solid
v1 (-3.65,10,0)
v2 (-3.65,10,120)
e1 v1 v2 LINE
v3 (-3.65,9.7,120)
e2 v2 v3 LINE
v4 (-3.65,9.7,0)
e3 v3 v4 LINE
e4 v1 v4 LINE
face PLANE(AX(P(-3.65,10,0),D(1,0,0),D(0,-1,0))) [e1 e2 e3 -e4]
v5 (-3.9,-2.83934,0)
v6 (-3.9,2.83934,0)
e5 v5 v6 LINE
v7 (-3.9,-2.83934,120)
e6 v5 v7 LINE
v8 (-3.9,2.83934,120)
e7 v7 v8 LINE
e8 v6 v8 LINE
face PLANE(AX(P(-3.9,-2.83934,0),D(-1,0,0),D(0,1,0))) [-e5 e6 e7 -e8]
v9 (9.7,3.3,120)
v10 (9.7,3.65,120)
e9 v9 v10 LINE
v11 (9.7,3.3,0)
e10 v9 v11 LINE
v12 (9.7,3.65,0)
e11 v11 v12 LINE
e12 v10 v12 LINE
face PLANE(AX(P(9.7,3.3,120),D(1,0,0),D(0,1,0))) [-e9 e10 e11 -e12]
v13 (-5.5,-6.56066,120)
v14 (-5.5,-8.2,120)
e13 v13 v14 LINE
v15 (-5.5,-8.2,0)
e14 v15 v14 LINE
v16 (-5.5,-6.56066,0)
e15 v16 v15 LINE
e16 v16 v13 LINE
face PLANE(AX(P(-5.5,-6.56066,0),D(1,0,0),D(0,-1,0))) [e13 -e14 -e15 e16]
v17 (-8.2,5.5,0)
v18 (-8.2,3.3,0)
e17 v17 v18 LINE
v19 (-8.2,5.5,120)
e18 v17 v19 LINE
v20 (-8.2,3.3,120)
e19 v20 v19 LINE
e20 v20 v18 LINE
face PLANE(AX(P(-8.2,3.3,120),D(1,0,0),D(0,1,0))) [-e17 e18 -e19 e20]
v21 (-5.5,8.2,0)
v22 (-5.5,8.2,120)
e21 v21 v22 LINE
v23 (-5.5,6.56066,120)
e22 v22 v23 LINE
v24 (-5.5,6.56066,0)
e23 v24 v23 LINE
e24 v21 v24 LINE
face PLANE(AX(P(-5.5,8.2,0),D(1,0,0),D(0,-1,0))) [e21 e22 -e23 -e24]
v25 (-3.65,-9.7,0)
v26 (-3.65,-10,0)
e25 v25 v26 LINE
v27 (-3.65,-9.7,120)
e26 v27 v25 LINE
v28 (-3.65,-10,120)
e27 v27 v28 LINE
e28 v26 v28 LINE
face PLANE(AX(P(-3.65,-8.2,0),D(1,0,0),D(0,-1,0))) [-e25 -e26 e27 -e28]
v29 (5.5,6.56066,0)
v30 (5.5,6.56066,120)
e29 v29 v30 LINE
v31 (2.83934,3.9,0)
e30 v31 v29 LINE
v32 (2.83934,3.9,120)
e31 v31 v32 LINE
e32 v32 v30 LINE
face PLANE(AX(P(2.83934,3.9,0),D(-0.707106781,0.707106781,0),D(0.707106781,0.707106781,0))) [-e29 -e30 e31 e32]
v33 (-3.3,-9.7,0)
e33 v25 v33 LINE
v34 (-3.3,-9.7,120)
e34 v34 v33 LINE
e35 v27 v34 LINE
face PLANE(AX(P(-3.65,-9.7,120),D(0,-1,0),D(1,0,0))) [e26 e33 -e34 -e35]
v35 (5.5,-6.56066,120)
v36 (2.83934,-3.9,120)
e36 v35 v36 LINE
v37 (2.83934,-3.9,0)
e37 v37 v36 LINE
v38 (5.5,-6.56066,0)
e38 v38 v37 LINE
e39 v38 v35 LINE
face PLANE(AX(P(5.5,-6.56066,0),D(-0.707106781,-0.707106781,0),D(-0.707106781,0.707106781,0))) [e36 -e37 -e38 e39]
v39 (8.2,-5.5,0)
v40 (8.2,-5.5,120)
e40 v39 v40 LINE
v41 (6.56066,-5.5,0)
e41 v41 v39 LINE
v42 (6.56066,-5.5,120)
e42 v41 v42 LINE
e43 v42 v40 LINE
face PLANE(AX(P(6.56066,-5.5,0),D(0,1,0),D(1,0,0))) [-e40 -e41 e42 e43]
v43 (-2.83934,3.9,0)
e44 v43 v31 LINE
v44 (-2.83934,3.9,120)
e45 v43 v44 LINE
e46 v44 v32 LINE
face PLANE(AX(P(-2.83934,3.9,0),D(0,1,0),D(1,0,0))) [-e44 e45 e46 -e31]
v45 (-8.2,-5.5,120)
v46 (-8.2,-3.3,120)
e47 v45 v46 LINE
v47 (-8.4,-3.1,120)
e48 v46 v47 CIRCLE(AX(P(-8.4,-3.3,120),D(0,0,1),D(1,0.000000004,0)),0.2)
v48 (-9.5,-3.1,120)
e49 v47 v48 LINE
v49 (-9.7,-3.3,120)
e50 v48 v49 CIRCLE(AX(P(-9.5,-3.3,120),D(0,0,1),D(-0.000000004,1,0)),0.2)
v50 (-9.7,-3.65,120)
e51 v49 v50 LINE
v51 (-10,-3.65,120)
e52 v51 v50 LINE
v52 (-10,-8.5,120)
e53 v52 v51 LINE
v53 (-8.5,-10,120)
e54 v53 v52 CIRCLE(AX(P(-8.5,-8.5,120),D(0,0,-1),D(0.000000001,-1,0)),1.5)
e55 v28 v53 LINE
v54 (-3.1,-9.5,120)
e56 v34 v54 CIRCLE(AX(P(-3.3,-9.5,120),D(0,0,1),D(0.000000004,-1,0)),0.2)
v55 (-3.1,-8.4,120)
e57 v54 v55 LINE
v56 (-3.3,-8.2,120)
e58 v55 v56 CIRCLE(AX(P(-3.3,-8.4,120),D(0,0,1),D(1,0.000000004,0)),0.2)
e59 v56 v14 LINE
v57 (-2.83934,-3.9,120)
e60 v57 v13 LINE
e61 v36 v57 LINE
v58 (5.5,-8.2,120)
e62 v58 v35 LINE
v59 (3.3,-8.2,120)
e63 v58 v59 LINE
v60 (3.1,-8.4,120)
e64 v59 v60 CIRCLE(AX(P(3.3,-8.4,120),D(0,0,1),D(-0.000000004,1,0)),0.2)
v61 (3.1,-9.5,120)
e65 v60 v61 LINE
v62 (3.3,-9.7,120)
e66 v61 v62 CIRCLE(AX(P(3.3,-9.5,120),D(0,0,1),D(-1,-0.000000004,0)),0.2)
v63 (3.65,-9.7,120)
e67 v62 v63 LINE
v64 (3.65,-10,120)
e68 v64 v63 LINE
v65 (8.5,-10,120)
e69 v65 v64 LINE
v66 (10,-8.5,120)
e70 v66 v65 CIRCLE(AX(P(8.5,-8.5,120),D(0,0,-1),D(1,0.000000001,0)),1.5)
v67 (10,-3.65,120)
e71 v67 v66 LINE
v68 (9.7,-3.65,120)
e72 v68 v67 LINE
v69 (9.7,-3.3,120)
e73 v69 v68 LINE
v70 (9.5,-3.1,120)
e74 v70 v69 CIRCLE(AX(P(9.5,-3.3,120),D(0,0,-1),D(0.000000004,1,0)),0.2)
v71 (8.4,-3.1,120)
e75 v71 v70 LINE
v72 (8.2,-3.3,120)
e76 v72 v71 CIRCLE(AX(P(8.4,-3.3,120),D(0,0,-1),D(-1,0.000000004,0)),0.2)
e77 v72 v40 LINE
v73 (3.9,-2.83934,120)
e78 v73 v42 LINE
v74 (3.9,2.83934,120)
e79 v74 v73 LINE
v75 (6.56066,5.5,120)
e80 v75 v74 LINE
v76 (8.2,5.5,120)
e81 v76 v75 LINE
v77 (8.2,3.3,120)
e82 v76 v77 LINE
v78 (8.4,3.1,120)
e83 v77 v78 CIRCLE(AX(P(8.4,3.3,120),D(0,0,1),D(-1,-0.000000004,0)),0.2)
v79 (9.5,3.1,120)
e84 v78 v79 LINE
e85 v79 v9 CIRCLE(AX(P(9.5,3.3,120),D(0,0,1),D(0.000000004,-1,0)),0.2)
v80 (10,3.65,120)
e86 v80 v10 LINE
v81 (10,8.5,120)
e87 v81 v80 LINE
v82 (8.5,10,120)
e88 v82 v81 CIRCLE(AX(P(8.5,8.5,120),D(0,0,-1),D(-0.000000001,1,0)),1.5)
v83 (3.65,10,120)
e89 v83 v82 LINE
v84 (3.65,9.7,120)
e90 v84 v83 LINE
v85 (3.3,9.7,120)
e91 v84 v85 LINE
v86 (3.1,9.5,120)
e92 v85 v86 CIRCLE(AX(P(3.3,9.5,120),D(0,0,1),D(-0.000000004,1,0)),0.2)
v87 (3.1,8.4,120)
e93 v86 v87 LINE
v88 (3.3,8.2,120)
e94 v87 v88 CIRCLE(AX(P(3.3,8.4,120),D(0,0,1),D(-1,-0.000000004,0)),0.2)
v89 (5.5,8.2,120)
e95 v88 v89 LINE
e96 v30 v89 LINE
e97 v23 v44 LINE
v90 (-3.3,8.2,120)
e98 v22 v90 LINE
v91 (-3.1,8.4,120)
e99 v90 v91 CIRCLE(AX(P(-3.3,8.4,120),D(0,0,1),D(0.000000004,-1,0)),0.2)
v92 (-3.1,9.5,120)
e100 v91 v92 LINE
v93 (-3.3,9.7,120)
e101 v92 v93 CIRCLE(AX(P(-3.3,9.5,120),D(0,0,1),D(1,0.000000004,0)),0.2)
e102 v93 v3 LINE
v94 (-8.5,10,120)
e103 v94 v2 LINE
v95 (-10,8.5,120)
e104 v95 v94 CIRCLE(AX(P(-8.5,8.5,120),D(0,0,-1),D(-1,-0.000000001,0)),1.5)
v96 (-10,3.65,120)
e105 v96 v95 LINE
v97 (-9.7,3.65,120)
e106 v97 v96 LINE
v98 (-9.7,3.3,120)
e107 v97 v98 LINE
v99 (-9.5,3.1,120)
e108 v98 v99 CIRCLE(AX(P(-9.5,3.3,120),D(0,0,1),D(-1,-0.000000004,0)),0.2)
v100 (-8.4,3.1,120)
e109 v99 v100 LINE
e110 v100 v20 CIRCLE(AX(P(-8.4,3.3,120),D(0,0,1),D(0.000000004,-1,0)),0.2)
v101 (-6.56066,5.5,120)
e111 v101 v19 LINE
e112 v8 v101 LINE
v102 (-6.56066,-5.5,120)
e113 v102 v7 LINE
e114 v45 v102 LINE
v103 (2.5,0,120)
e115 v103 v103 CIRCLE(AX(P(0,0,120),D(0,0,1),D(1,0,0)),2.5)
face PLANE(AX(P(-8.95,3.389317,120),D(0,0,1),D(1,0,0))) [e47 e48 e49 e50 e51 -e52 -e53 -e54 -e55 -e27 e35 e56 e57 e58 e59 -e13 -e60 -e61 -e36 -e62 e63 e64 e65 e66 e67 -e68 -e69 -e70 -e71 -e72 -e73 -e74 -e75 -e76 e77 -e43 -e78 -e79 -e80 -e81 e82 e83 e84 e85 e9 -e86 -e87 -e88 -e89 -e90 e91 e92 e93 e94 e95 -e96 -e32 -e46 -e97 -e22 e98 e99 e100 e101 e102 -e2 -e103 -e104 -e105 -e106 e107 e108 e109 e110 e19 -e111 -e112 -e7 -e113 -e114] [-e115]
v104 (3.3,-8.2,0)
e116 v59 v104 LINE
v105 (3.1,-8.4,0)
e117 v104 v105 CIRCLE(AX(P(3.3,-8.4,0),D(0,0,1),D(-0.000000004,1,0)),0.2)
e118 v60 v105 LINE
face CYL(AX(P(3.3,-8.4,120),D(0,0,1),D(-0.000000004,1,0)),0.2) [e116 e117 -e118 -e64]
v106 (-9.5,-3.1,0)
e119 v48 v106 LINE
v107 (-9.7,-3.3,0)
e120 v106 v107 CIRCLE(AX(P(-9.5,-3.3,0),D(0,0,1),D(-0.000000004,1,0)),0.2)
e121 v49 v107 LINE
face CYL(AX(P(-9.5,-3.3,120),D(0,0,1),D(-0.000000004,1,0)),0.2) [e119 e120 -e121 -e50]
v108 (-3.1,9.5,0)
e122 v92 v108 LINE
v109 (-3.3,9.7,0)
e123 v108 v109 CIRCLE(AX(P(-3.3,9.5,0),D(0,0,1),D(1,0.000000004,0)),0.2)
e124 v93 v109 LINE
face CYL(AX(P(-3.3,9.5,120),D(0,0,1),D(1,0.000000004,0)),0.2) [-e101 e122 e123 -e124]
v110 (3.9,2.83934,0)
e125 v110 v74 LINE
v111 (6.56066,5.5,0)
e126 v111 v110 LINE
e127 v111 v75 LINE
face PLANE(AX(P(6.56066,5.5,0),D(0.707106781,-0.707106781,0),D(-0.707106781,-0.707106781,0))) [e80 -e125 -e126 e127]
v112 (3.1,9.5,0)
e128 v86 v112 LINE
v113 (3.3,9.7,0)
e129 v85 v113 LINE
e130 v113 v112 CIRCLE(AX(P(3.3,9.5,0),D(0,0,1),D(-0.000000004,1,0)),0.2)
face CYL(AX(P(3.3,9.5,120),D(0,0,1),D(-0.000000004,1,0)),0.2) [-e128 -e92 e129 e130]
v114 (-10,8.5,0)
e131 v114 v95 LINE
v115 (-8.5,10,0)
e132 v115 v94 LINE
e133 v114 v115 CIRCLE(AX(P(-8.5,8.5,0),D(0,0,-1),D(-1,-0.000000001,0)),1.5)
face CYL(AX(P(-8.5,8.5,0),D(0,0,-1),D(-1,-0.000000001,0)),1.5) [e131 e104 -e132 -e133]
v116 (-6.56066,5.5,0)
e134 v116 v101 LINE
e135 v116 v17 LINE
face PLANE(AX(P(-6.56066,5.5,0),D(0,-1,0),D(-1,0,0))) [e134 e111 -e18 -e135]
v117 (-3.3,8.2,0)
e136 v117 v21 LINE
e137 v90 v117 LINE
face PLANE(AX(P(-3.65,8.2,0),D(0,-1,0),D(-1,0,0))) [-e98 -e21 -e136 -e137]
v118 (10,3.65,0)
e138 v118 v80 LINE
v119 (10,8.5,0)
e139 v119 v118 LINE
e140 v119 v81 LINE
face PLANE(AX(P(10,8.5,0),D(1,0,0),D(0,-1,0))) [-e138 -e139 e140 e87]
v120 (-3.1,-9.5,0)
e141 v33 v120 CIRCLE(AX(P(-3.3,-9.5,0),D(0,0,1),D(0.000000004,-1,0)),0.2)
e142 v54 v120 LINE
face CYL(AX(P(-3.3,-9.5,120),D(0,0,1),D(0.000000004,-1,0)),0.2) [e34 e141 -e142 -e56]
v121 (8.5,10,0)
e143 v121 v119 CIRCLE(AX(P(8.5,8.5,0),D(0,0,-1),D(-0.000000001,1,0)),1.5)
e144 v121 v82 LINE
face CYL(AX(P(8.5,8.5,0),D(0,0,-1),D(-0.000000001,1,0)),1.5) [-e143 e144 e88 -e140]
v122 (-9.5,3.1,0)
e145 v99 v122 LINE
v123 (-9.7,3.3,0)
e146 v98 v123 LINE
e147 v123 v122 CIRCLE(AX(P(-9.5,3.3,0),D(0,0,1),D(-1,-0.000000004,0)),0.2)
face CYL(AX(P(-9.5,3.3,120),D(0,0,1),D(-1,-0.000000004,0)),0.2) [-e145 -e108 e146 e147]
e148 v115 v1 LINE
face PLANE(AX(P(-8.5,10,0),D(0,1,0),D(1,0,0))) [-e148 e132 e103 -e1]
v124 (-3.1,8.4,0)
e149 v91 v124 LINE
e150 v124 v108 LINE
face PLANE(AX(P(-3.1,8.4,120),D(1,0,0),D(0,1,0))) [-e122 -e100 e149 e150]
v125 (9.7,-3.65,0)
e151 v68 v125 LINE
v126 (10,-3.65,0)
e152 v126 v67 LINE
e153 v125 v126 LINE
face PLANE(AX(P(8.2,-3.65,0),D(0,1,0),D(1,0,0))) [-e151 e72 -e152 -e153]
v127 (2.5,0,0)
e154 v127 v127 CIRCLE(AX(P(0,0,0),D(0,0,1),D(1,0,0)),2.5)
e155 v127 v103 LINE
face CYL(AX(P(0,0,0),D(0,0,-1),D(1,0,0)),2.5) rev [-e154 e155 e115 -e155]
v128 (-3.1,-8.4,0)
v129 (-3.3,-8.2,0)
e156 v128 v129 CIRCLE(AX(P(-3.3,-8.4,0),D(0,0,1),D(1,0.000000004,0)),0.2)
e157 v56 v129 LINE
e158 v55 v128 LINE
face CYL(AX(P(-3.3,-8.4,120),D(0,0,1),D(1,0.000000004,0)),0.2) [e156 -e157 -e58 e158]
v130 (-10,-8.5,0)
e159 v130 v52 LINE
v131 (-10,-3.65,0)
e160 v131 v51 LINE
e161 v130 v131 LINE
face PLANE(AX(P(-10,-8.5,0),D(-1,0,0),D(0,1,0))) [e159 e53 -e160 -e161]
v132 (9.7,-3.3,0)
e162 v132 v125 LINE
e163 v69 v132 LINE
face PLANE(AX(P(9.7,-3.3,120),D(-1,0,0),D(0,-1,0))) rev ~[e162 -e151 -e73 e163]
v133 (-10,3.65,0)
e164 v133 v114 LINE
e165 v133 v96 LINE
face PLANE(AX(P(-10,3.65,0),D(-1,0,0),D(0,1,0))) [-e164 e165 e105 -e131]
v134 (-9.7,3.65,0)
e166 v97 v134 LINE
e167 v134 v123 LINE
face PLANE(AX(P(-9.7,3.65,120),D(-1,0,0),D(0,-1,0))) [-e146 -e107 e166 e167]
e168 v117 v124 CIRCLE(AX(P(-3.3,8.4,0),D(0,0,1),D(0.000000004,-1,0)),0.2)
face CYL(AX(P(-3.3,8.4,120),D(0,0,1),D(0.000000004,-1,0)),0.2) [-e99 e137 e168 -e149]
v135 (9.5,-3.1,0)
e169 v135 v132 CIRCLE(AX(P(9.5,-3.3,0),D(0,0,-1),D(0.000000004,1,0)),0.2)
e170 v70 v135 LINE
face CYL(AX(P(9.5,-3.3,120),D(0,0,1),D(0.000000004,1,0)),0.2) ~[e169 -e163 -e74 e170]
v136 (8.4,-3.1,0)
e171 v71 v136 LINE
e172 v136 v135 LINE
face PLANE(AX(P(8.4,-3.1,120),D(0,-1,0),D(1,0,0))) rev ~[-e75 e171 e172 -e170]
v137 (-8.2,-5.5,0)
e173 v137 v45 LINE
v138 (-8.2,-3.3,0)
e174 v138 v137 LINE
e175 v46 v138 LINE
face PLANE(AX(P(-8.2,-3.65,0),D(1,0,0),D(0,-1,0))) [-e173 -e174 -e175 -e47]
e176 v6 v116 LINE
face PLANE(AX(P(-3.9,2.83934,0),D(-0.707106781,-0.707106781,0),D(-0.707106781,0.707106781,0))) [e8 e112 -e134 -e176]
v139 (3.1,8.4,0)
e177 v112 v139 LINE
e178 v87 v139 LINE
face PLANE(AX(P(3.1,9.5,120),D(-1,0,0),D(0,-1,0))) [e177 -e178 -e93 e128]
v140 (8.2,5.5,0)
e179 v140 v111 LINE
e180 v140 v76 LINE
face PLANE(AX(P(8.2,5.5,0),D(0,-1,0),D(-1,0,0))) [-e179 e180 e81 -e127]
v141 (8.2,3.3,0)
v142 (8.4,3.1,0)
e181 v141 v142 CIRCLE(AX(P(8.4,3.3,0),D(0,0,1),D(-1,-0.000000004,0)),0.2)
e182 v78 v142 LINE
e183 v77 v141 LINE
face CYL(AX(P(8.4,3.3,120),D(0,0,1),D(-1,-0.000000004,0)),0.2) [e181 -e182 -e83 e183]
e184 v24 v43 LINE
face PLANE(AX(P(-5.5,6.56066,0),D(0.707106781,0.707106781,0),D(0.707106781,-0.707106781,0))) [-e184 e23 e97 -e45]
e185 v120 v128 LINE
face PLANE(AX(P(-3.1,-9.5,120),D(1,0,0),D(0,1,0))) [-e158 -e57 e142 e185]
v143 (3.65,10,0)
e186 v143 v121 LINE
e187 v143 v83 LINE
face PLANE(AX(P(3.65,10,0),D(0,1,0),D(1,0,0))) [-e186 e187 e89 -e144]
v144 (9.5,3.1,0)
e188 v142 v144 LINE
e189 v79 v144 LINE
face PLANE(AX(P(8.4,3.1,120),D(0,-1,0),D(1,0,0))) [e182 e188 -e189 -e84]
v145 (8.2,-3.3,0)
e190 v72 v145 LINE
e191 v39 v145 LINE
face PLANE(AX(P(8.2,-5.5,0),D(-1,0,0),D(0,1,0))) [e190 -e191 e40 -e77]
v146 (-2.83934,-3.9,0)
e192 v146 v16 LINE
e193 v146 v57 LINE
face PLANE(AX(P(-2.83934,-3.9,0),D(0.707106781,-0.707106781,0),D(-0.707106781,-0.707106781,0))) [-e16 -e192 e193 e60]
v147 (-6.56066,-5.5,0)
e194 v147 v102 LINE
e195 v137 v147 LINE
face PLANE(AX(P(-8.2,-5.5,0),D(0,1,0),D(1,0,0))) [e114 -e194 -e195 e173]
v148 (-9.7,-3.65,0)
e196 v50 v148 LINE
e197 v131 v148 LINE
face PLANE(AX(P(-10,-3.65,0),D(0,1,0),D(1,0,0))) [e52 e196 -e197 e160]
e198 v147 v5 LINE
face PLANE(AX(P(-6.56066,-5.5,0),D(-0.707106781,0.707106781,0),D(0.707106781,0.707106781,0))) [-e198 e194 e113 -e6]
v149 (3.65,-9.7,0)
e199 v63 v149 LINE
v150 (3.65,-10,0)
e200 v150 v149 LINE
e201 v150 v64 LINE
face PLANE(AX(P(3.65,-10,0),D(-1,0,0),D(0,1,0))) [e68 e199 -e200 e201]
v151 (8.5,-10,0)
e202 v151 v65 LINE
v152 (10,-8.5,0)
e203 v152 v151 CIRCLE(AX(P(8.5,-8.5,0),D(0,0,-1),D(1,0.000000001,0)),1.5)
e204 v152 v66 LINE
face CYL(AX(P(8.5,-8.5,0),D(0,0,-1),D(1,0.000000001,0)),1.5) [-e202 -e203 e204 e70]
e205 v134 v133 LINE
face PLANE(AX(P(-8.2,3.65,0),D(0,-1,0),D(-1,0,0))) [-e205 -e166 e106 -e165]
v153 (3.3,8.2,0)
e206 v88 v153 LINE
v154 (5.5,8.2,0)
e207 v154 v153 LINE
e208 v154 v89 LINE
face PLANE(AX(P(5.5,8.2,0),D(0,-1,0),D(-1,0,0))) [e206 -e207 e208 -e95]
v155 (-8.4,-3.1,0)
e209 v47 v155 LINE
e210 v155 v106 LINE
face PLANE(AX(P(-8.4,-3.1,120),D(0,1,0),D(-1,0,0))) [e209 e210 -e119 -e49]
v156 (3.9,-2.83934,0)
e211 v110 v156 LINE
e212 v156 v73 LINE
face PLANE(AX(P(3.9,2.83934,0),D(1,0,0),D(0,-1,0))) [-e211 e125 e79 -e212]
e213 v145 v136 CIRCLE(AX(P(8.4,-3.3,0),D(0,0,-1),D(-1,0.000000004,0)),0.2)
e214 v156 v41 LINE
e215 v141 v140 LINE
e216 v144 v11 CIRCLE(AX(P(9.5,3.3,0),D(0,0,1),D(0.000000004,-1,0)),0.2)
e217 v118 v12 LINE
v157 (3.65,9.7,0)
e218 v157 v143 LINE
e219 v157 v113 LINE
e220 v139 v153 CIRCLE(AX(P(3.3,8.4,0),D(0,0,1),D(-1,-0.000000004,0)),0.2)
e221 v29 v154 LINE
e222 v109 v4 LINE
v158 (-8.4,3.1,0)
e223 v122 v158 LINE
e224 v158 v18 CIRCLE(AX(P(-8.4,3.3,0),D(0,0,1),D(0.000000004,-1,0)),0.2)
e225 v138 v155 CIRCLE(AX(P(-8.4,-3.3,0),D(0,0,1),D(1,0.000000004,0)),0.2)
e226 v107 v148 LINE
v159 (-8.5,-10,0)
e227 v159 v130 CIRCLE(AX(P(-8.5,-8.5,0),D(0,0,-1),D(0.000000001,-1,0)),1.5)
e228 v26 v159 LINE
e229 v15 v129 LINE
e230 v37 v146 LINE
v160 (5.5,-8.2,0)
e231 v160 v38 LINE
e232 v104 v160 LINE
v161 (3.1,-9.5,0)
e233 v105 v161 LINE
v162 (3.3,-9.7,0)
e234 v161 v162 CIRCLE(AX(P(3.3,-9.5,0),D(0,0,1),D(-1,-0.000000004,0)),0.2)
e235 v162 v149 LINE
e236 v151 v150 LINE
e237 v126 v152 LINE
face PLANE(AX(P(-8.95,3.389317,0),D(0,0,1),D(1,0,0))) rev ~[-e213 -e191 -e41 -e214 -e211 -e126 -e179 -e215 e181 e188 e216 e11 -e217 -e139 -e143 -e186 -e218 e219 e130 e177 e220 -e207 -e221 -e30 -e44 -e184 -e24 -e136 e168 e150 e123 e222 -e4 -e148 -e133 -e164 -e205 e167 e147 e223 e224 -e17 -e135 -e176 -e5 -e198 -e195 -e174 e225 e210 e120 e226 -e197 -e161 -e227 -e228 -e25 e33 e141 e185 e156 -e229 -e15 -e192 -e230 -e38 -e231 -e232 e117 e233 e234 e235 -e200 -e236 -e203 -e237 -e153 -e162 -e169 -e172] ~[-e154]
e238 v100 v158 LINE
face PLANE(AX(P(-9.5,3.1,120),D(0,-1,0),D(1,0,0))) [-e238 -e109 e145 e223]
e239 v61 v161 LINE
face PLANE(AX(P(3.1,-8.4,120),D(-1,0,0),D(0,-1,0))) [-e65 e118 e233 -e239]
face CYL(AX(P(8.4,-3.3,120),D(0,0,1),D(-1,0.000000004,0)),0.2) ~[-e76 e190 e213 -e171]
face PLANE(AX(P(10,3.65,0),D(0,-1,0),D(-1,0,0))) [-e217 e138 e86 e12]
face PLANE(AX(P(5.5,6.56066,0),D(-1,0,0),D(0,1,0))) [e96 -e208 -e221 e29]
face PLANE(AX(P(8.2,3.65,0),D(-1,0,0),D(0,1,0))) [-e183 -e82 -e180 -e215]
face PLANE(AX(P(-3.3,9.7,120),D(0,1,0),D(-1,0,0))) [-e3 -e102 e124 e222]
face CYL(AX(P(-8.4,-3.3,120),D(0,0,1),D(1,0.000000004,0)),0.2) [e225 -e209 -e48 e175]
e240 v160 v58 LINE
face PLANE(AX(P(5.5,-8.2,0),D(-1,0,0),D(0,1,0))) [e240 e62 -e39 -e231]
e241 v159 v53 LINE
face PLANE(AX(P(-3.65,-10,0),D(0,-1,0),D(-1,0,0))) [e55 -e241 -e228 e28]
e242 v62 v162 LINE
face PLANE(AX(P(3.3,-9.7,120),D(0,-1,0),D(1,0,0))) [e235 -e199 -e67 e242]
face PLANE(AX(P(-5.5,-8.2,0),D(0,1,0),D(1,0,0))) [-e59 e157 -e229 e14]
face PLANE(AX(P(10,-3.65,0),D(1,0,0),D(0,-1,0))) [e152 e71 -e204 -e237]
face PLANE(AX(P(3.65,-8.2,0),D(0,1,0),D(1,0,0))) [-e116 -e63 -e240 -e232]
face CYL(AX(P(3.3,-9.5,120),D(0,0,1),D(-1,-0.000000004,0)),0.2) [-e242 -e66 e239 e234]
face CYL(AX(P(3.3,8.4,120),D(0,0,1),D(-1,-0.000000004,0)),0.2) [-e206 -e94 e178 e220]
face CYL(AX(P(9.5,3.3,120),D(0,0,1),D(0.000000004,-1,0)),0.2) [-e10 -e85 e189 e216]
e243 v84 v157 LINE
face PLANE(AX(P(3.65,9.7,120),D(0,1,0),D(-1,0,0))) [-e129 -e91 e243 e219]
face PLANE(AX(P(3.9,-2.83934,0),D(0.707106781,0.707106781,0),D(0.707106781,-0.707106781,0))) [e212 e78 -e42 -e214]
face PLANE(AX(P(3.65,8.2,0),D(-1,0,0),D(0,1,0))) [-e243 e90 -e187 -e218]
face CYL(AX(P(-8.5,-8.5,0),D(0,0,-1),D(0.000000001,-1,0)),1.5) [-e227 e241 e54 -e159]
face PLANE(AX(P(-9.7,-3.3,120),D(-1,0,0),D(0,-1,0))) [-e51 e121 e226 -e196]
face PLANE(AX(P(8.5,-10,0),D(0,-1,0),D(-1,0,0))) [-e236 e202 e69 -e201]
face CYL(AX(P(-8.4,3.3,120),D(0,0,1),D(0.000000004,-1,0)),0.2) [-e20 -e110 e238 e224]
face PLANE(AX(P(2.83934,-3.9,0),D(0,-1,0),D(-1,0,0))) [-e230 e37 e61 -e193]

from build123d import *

# Parameters (mm, degrees)
SKETCH_1_R      = 2.5
EXTRUDE_2_DEPTH = 120
EXTRUDE_3_DEPTH = 120


with BuildPart() as part:
    # 草图1 → 凸台-拉伸2 (new body)
    with BuildSketch(Plane.XY):
        with BuildLine():
            Line((3.65, 10), (8.5, 10))
            ThreePointArc((8.5, 10), (9.560660172, 9.560660172), (10, 8.5))
            Line((10, 8.5), (10, 3.65))
            Line((10, 3.65), (8.2, 3.65))
            Line((8.2, 3.65), (8.2, 5.5))
            Line((8.2, 5.5), (6.560660172, 5.5))
            Line((6.560660172, 5.5), (3.9, 2.839339828))
            Line((3.9, 2.839339828), (3.9, -2.839339828))
            Line((3.9, -2.839339828), (6.560660172, -5.5))
            Line((6.560660172, -5.5), (8.2, -5.5))
            Line((8.2, -5.5), (8.2, -3.65))
            Line((8.2, -3.65), (10, -3.65))
            Line((10, -3.65), (10, -8.5))
            ThreePointArc((10, -8.5), (9.560660172, -9.560660172), (8.5, -10))
            Line((8.5, -10), (3.65, -10))
            Line((3.65, -10), (3.65, -8.2))
            Line((3.65, -8.2), (5.5, -8.2))
            Line((5.5, -8.2), (5.5, -6.560660172))
            Line((5.5, -6.560660172), (2.839339828, -3.9))
            Line((2.839339828, -3.9), (-2.839339828, -3.9))
            Line((-2.839339828, -3.9), (-5.5, -6.560660172))
            Line((-5.5, -6.560660172), (-5.5, -8.2))
            Line((-5.5, -8.2), (-3.65, -8.2))
            Line((-3.65, -8.2), (-3.65, -10))
            Line((-3.65, -10), (-8.5, -10))
            ThreePointArc((-8.5, -10), (-9.560660172, -9.560660172), (-10, -8.5))
            Line((-10, -8.5), (-10, -3.65))
            Line((-10, -3.65), (-8.2, -3.65))
            Line((-8.2, -3.65), (-8.2, -5.5))
            Line((-8.2, -5.5), (-6.560660172, -5.5))
            Line((-6.560660172, -5.5), (-3.9, -2.839339828))
            Line((-3.9, -2.839339828), (-3.9, 2.839339828))
            Line((-3.9, 2.839339828), (-6.560660172, 5.5))
            Line((-6.560660172, 5.5), (-8.2, 5.5))
            Line((-8.2, 5.5), (-8.2, 3.65))
            Line((-8.2, 3.65), (-10, 3.65))
            Line((-10, 3.65), (-10, 8.5))
            ThreePointArc((-10, 8.5), (-9.560660172, 9.560660172), (-8.5, 10))
            Line((-8.5, 10), (-3.65, 10))
            Line((-3.65, 10), (-3.65, 8.2))
            Line((-3.65, 8.2), (-5.5, 8.2))
            Line((-5.5, 8.2), (-5.5, 6.560660172))
            Line((-5.5, 6.560660172), (-2.839339828, 3.9))
            Line((-2.839339828, 3.9), (2.839339828, 3.9))
            Line((2.839339828, 3.9), (5.5, 6.560660172))
            Line((5.5, 6.560660172), (5.5, 8.2))
            Line((5.5, 8.2), (3.65, 8.2))
            Line((3.65, 8.2), (3.65, 10))
        make_face()
        Circle(SKETCH_1_R, mode=Mode.SUBTRACT)
    extrude(amount=EXTRUDE_2_DEPTH)

    # 草图3 → 凸台-拉伸3 (add)
    with BuildSketch(Plane.XY.offset(120)):
        with BuildLine():
            Line((-8.2, 3.65), (-9.7, 3.65))
            Line((-9.7, 3.65), (-9.7, 3.3))
            ThreePointArc((-9.7, 3.3), (-9.641421356, 3.158578644), (-9.5, 3.1))
            Line((-9.5, 3.1), (-8.4, 3.1))
            ThreePointArc((-8.4, 3.1), (-8.258578644, 3.158578644), (-8.2, 3.3))
            Line((-8.2, 3.3), (-8.2, 3.65))
        make_face()
        with BuildLine():
            Line((-3.65, 9.7), (-3.65, 8.2))
            Line((-3.65, 8.2), (-3.3, 8.2))
            ThreePointArc((-3.3, 8.2), (-3.158578644, 8.258578644), (-3.1, 8.4))
            Line((-3.1, 8.4), (-3.1, 9.5))
            ThreePointArc((-3.1, 9.5), (-3.158578644, 9.641421356), (-3.3, 9.7))
            Line((-3.3, 9.7), (-3.65, 9.7))
        make_face()
        with BuildLine():
            Line((3.65, 8.2), (3.65, 9.7))
            Line((3.65, 9.7), (3.3, 9.7))
            ThreePointArc((3.3, 9.7), (3.158578644, 9.641421356), (3.1, 9.5))
            Line((3.1, 9.5), (3.1, 8.4))
            ThreePointArc((3.1, 8.4), (3.158578644, 8.258578644), (3.3, 8.2))
            Line((3.3, 8.2), (3.65, 8.2))
        make_face()
        with BuildLine():
            Line((9.7, 3.65), (8.2, 3.65))
            Line((8.2, 3.65), (8.2, 3.3))
            ThreePointArc((8.2, 3.3), (8.258578644, 3.158578644), (8.4, 3.1))
            Line((8.4, 3.1), (9.5, 3.1))
            ThreePointArc((9.5, 3.1), (9.641421356, 3.158578644), (9.7, 3.3))
            Line((9.7, 3.3), (9.7, 3.65))
        make_face()
        with BuildLine():
            Line((3.65, -9.7), (3.65, -8.2))
            Line((3.65, -8.2), (3.3, -8.2))
            ThreePointArc((3.3, -8.2), (3.158578644, -8.258578644), (3.1, -8.4))
            Line((3.1, -8.4), (3.1, -9.5))
            ThreePointArc((3.1, -9.5), (3.158578644, -9.641421356), (3.3, -9.7))
            Line((3.3, -9.7), (3.65, -9.7))
        make_face()
        with BuildLine():
            Line((-3.65, -8.2), (-3.65, -9.7))
            Line((-3.65, -9.7), (-3.3, -9.7))
            ThreePointArc((-3.3, -9.7), (-3.158578644, -9.641421356), (-3.1, -9.5))
            Line((-3.1, -9.5), (-3.1, -8.4))
            ThreePointArc((-3.1, -8.4), (-3.158578644, -8.258578644), (-3.3, -8.2))
            Line((-3.3, -8.2), (-3.65, -8.2))
        make_face()
        with BuildLine():
            Line((8.2, -3.65), (8.2, -3.3))
            ThreePointArc((8.2, -3.3), (8.258578644, -3.158578644), (8.4, -3.1))
            Line((8.4, -3.1), (9.5, -3.1))
            ThreePointArc((9.5, -3.1), (9.641421356, -3.158578644), (9.7, -3.3))
            Line((9.7, -3.3), (9.7, -3.65))
            Line((9.7, -3.65), (8.2, -3.65))
        make_face()
        with BuildLine():
            Line((-8.2, -3.65), (-8.2, -3.3))
            ThreePointArc((-8.2, -3.3), (-8.258578644, -3.158578644), (-8.4, -3.1))
            Line((-8.4, -3.1), (-9.5, -3.1))
            ThreePointArc((-9.5, -3.1), (-9.641421356, -3.158578644), (-9.7, -3.3))
            Line((-9.7, -3.3), (-9.7, -3.65))
            Line((-9.7, -3.65), (-8.2, -3.65))
        make_face()
    extrude(amount=-EXTRUDE_3_DEPTH)


solid = part.part
